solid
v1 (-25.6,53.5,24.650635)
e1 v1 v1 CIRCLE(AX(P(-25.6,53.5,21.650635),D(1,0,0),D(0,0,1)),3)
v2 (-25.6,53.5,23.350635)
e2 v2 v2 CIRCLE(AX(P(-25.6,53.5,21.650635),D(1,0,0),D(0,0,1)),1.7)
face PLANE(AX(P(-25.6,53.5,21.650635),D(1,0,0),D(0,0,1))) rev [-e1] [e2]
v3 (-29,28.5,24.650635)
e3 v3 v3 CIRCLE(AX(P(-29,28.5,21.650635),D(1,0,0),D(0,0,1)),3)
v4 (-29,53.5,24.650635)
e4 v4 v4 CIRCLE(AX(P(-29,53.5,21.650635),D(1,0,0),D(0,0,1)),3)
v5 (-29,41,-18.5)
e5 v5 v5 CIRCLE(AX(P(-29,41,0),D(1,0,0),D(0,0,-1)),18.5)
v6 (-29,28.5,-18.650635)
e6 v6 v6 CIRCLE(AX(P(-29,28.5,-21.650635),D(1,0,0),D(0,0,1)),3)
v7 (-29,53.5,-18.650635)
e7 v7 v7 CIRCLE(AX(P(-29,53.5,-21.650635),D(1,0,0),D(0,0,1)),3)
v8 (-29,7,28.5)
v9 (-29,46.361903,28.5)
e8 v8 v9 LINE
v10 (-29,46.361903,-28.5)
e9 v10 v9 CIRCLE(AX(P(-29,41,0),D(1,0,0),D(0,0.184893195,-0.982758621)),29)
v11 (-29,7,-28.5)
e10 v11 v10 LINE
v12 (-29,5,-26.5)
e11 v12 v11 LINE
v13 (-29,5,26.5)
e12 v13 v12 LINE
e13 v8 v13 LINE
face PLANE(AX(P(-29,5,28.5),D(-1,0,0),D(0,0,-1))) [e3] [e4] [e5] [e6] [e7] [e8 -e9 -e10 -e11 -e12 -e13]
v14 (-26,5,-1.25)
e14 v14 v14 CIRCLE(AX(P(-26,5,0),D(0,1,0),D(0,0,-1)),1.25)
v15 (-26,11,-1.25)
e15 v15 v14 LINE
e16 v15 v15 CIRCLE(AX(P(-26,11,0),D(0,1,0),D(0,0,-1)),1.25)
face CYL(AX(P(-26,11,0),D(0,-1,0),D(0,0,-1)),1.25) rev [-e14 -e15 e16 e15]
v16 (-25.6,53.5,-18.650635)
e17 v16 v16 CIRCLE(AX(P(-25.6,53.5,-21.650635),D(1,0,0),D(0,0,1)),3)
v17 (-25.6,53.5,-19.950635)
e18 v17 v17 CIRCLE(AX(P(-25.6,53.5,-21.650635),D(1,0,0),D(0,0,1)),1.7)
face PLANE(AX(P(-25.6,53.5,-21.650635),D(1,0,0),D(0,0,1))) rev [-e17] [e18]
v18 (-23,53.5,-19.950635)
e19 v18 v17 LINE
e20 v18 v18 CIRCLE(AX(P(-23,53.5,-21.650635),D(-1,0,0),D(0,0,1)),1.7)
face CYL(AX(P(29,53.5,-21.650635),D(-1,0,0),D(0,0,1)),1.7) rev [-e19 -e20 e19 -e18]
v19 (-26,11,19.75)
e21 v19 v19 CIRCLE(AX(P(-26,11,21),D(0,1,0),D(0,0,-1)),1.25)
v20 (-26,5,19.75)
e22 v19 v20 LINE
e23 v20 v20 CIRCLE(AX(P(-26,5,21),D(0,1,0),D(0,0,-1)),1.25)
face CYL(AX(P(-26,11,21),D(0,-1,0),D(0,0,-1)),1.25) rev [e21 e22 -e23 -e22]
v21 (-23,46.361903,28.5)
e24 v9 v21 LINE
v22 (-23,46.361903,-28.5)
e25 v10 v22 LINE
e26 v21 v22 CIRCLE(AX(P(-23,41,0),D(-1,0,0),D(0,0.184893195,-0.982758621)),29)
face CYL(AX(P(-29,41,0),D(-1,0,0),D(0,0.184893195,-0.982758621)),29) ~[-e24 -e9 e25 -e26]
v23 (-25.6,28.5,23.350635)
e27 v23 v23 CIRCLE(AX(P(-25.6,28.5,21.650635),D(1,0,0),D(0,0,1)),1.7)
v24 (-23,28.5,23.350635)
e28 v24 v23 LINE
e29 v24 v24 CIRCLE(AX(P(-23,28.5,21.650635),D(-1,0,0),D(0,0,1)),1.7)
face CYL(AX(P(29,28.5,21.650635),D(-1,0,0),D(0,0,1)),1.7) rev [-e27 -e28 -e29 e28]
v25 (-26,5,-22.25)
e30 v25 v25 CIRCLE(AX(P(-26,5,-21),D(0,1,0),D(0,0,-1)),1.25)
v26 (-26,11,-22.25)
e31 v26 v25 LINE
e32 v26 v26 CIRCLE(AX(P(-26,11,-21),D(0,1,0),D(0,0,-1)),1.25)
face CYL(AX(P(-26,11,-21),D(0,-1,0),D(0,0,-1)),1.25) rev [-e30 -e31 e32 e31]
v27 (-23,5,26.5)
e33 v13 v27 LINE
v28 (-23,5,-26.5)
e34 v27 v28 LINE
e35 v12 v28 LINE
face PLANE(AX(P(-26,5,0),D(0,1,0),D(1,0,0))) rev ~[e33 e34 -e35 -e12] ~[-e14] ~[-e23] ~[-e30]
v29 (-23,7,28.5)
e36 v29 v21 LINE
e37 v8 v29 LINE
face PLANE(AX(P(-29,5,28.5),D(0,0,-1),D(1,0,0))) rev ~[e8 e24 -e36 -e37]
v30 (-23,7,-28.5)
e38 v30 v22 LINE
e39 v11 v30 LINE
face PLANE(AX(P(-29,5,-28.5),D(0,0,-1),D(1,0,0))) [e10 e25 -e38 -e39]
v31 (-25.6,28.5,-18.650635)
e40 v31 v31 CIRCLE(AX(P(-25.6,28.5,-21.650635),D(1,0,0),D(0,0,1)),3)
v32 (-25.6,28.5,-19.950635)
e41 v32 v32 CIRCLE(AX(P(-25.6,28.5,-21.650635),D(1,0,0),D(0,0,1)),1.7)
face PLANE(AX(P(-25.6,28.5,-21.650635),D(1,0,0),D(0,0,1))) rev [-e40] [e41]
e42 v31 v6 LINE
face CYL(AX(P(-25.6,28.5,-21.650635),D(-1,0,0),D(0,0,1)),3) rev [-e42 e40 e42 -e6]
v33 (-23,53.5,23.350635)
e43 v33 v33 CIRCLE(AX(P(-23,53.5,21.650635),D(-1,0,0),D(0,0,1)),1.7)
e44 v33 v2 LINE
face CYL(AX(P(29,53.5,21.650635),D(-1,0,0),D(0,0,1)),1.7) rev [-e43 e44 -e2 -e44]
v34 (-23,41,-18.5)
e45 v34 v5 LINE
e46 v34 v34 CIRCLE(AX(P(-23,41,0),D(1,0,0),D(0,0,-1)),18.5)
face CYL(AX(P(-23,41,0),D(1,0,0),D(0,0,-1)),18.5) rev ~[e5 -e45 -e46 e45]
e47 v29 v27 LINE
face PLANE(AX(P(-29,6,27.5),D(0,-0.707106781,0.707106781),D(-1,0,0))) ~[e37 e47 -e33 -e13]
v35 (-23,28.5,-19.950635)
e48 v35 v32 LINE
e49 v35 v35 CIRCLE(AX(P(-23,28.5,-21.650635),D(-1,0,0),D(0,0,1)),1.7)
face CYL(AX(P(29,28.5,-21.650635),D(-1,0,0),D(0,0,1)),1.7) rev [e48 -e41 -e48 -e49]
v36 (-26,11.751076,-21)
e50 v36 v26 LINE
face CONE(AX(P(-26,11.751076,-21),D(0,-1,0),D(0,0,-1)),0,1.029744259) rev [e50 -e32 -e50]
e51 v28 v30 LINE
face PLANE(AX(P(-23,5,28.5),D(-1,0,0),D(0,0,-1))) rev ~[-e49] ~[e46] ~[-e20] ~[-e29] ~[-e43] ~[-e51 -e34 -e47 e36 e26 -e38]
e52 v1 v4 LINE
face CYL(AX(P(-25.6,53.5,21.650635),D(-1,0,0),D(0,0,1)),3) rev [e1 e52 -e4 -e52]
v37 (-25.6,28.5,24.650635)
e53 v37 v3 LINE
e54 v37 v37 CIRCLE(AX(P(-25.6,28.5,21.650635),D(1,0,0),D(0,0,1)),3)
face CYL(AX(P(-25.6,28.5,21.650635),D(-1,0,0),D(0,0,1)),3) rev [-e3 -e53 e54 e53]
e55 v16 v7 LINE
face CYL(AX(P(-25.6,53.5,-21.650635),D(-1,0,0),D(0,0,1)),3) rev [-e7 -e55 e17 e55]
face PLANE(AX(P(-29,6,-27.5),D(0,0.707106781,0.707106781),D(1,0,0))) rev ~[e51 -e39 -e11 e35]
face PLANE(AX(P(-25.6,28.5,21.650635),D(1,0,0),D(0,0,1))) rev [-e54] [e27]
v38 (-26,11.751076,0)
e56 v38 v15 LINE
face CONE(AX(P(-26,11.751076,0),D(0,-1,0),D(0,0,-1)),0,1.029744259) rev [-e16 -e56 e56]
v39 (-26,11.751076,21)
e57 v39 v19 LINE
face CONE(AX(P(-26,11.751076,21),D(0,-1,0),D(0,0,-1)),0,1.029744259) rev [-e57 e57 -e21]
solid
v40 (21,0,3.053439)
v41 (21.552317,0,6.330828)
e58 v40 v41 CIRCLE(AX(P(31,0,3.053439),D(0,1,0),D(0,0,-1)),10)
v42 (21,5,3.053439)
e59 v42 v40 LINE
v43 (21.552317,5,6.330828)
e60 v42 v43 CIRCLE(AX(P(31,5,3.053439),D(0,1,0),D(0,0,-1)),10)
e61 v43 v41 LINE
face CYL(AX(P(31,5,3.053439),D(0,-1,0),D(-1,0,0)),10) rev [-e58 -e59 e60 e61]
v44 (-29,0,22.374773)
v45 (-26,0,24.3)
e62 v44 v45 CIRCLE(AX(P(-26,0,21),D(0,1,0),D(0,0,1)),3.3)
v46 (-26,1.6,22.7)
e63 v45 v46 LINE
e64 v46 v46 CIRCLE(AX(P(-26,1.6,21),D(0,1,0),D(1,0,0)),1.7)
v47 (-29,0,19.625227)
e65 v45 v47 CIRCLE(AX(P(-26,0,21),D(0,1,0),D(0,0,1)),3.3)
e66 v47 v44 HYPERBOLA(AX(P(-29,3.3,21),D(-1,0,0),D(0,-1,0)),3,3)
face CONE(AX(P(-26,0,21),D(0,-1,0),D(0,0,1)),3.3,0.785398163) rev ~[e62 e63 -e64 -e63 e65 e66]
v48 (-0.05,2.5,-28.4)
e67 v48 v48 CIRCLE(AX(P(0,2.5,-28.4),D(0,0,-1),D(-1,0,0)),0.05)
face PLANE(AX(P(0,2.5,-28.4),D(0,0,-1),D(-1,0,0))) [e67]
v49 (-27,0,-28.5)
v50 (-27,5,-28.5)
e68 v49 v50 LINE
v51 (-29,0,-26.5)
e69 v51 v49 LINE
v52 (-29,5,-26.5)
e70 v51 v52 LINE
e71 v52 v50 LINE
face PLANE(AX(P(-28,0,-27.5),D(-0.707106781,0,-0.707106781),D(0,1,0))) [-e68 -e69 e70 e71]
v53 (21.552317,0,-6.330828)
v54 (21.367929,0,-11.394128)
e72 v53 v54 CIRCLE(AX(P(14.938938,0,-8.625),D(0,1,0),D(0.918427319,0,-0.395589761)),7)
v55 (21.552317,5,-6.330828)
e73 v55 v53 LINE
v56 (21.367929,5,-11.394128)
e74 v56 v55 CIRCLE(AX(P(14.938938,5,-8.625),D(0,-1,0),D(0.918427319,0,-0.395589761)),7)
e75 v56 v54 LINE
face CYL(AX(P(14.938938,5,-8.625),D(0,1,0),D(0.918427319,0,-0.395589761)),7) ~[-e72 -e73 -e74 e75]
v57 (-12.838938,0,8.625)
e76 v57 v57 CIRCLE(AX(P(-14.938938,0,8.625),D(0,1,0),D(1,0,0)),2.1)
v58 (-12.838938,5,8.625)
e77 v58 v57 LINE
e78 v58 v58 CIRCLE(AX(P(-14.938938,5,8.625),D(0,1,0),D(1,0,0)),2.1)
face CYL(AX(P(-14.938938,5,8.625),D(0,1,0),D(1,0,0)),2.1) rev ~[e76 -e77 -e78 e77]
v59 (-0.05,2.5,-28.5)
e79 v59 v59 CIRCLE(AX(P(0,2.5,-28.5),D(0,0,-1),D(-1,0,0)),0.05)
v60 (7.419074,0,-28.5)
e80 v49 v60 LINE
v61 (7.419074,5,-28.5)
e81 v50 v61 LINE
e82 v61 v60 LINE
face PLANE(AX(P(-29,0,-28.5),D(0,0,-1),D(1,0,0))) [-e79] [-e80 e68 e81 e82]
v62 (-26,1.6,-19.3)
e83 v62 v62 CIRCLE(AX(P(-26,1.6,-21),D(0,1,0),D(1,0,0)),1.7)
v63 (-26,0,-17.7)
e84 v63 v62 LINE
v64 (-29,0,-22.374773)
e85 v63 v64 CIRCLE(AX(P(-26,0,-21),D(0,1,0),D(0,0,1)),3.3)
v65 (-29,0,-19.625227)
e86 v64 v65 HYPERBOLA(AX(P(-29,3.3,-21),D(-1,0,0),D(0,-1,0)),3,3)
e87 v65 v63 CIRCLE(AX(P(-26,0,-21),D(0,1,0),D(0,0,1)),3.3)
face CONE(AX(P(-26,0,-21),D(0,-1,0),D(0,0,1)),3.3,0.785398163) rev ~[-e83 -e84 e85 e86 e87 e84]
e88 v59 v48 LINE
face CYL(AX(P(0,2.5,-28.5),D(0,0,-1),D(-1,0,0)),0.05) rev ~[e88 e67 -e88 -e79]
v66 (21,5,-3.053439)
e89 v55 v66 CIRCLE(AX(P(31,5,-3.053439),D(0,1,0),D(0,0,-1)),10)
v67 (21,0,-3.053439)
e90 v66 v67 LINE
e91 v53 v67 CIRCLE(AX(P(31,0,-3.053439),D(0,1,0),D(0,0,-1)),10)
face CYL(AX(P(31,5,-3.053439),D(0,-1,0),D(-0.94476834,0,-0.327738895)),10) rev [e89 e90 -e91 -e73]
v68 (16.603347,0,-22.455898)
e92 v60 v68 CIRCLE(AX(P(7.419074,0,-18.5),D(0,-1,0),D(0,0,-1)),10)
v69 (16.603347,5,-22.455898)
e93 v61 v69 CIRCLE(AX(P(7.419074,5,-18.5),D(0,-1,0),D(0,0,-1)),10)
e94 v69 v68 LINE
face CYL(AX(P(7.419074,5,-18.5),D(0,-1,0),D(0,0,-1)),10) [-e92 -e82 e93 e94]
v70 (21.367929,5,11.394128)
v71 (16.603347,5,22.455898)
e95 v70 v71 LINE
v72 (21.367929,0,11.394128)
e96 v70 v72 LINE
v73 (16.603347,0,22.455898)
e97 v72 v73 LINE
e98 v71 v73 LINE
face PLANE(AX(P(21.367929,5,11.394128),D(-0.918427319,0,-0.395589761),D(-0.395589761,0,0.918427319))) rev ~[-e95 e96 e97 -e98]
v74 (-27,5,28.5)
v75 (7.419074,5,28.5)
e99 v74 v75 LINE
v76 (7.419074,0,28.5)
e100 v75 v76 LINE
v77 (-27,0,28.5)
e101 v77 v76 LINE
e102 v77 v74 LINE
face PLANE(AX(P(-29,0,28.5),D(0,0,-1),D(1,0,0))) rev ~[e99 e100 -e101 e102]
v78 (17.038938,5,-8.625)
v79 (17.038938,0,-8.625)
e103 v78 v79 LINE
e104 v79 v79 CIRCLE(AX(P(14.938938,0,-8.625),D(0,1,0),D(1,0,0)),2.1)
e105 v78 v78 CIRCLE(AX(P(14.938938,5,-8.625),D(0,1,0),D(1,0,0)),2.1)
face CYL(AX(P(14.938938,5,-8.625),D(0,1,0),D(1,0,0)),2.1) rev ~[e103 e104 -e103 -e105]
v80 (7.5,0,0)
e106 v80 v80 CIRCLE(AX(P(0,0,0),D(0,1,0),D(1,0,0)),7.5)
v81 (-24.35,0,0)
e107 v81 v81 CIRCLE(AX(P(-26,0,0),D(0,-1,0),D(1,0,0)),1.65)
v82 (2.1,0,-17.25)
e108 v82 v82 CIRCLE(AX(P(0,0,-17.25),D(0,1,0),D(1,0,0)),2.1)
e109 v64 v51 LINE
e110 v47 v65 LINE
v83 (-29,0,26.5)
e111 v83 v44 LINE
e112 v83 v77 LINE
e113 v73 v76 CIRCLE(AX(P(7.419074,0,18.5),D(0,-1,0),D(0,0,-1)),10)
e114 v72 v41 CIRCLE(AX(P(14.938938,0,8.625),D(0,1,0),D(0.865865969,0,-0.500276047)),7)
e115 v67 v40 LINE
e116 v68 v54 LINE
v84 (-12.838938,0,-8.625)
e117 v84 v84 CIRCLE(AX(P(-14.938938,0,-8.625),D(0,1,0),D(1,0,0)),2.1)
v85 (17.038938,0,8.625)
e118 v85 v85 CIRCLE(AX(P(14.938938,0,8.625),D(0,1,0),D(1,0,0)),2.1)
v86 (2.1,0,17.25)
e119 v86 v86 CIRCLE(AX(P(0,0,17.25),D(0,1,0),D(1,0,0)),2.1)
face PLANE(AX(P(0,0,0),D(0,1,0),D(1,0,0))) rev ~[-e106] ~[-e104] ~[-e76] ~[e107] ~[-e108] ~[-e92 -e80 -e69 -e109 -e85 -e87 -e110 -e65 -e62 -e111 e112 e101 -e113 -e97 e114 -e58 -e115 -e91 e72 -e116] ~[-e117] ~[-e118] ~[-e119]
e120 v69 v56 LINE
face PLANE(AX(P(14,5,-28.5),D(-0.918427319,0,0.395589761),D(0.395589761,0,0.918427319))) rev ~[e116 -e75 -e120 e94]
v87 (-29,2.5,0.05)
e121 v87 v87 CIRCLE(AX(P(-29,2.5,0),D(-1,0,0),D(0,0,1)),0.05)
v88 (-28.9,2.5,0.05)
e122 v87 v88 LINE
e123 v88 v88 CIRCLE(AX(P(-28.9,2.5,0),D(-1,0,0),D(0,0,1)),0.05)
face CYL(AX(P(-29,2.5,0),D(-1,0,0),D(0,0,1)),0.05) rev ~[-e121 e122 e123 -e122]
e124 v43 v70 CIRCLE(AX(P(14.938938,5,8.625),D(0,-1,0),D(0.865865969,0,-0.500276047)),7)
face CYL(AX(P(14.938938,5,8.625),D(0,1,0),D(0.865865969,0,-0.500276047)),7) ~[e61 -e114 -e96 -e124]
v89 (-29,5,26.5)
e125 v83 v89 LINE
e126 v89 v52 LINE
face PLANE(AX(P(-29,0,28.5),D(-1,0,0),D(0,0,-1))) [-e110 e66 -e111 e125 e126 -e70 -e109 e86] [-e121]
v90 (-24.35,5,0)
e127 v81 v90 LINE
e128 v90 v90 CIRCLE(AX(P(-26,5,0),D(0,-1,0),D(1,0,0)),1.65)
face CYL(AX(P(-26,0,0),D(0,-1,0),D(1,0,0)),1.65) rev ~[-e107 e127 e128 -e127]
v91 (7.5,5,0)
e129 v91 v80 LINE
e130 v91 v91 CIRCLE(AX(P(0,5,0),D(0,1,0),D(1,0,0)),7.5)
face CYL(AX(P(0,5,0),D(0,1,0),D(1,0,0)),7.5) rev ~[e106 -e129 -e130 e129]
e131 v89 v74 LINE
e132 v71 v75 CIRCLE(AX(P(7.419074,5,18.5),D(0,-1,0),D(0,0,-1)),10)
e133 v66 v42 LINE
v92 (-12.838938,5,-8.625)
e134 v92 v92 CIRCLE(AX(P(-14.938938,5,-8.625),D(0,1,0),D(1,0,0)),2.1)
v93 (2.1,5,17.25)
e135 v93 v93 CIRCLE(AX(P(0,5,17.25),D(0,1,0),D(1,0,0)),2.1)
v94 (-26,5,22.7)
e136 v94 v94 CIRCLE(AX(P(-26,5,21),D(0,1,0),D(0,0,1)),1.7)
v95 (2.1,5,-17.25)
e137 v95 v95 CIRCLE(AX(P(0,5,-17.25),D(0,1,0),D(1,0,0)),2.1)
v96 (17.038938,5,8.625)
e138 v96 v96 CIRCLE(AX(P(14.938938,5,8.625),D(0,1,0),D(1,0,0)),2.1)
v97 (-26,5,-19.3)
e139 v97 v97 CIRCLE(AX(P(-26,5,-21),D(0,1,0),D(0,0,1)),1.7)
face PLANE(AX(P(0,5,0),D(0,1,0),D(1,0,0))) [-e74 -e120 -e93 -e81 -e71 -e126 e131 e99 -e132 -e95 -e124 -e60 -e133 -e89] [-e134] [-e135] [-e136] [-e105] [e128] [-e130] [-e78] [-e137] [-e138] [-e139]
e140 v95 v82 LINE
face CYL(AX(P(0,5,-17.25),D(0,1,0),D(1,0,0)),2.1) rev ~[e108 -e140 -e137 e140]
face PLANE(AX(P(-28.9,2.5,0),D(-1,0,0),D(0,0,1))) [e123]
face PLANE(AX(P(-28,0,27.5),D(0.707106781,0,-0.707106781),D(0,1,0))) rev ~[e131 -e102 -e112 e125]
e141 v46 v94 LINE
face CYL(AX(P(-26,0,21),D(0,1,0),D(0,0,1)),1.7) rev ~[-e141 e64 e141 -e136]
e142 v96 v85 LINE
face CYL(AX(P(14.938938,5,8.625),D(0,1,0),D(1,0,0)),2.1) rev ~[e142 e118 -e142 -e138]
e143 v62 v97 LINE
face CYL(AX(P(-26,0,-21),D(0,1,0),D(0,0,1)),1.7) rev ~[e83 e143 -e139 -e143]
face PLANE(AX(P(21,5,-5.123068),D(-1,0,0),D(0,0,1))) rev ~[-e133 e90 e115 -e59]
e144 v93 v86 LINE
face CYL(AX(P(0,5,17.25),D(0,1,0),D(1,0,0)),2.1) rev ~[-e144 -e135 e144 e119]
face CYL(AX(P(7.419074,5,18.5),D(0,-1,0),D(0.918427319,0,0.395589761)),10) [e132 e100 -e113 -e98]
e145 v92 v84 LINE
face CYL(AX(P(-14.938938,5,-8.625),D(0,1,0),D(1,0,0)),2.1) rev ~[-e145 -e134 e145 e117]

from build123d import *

# Parameters (mm, degrees)
SKETCH_1_W                    = 58
SKETCH_1_H                    = 57
EXTRUDE_1_DEPTH               = 5
SKETCH_5_R                    = 1
SKETCH_5_R_2                  = 2.1
CUT_EXTRUDE_2_DEPTH           = 6
HOLE_WIZARD_M3_1_D            = 3.4
HOLE_WIZARD_M3_1_DEPTH        = 5.5
HOLE_WIZARD_M3_1_CSINK_D      = 6.6
HOLE_WIZARD_M3_1_CSINK_ANGLE  = 90
HOLE_WIZARD_M3_1_TIP          = 1.021463052
CHAMFER_1_SIZE                = 2
SKETCH_9_W                    = 6
SKETCH_9_H                    = 57
EXTRUDE_3_DEPTH               = 68
SKETCH_10_R                   = 18.5
CUT_EXTRUDE_3_DEPTH           = 7
CHAMFER_2_SIZE                = 2
SKETCH_11_R                   = 7.5
CUT_EXTRUDE_4_DEPTH           = 6
SKETCH_12_R                   = 1
CUT_EXTRUDE_5_DEPTH           = 59
HOLE_WIZARD_M3_1_2_AT_2_COUNT = 2
HOLE_WIZARD_M3_1_2_AT_2_PITCH = 43.301270189
HOLE_WIZARD_M3_1_2_AT_3_COUNT = 2
HOLE_WIZARD_M3_1_2_AT_3_PITCH = 50
HOLE_WIZARD_M3_1_2_AT_4_COUNT = 2
HOLE_WIZARD_M3_1_2_AT_4_PITCH = 25
CUT_EXTRUDE_6_DEPTH           = 10
SKETCH_15_R                   = 0.05
CUT_EXTRUDE_7_DEPTH           = 0.1
SKETCH_16_R                   = 0.05
CUT_EXTRUDE_8_DEPTH           = 0.1
CUT_EXTRUDE_9_DEPTH           = 10
FILLET_1_R                    = 10
SKETCH_18_R                   = 1.65
CUT_EXTRUDE_10_DEPTH          = 5
HOLE_WIZARD_M3_1_3_AT_2_COUNT = 2
HOLE_WIZARD_M3_1_3_AT_2_PITCH = 21
HOLE_WIZARD_M3_1_3_AT_3_COUNT = 2
HOLE_WIZARD_M3_1_3_AT_3_PITCH = 42


with BuildPart() as part:
    # 草图1 → 凸台-拉伸1 (new body)
    with BuildSketch(Plane(origin=(0, 0, 0), x_dir=(1, 0, 0), z_dir=(0, 1, 0))):
        Rectangle(SKETCH_1_W, SKETCH_1_H)
    extrude(amount=EXTRUDE_1_DEPTH)

    # 草图5 → 切除-拉伸2 (cut, through all)
    with BuildSketch(Plane(origin=(0, 5, 0), x_dir=(1, 0, 0), z_dir=(0, 1, 0))):
        with Locations((-26, 21)):
            Circle(SKETCH_5_R)
        with Locations((-26, -21)):
            Circle(SKETCH_5_R)
        with Locations((0, 17.25)):
            Circle(SKETCH_5_R_2)
        with Locations((14.938938215, 8.625)):
            Circle(SKETCH_5_R_2)
        with Locations((14.938938215, -8.625)):
            Circle(SKETCH_5_R_2)
        with Locations((0, -17.25)):
            Circle(SKETCH_5_R_2)
        with Locations((-14.938938215, -8.625)):
            Circle(SKETCH_5_R_2)
        with Locations((-14.938938215, 8.625)):
            Circle(SKETCH_5_R_2)
    extrude(amount=-CUT_EXTRUDE_2_DEPTH, mode=Mode.SUBTRACT)

    # Hole Wizard M3 _1
    with Locations(Plane(origin=(-26, 0, 21), x_dir=(0, 0, -1), z_dir=(0, -1, 0))):
        with Locations((0, 0), (42, 0)):
            CounterSinkHole(HOLE_WIZARD_M3_1_D / 2, HOLE_WIZARD_M3_1_CSINK_D / 2, depth=HOLE_WIZARD_M3_1_DEPTH, counter_sink_angle=HOLE_WIZARD_M3_1_CSINK_ANGLE)
            with Locations((0, 0, -(HOLE_WIZARD_M3_1_DEPTH + HOLE_WIZARD_M3_1_TIP / 2))):  # 118° drill point
                Cone(0, HOLE_WIZARD_M3_1_D / 2, HOLE_WIZARD_M3_1_TIP, mode=Mode.SUBTRACT)

    # 倒角1
    chamfer_1_edges = [part.edges().sort_by_distance(p)[0] for p in [
        (29, 2.5, 28.5),
        (-29, 2.5, 28.5),
        (-29, 2.5, -28.5),
        (29, 2.5, -28.5),
    ]]
    chamfer(chamfer_1_edges, length=CHAMFER_1_SIZE)

    # 草图11 → 切除-拉伸4 (cut, through all)
    with BuildSketch(Plane(origin=(0, 5, 0), x_dir=(1, 0, 0), z_dir=(0, 1, 0))):
        Circle(SKETCH_11_R)
    extrude(amount=-CUT_EXTRUDE_4_DEPTH, mode=Mode.SUBTRACT)

    # 草图15 → 切除-拉伸7 (cut)
    with BuildSketch(Plane(origin=(0, 0, -28.5), x_dir=(-1, 0, 0), z_dir=(0, 0, -1))):
        with Locations((0, 2.5)):
            Circle(SKETCH_15_R)
    extrude(amount=-CUT_EXTRUDE_7_DEPTH, mode=Mode.SUBTRACT)

    # 草图16 → 切除-拉伸8 (cut)
    with BuildSketch(Plane.ZY.offset(29)):
        with Locations((0, 2.5)):
            Circle(SKETCH_16_R)
    extrude(amount=-CUT_EXTRUDE_8_DEPTH, mode=Mode.SUBTRACT)

    # 草图17 → 切除-拉伸9 (cut)
    with BuildSketch(Plane(origin=(0, 5, 0), x_dir=(1, 0, 0), z_dir=(0, 1, 0))):
        with BuildLine():
            Line((14, 28.5), (21.36792945, 11.39412833))
            ThreePointArc((21.36792945, 11.39412833), (21.926921226, 8.215007993), (21, 5.12306767))
            Line((21, 5.12306767), (21, -5.12306767))
            ThreePointArc((21, -5.12306767), (21.926921226, -8.215007993), (21.36792945, -11.39412833))
            Line((21.36792945, -11.39412833), (14, -28.5))
            Line((14, -28.5), (27, -28.5))
            Line((27, -28.5), (29, -26.5))
            Line((29, -26.5), (29, 26.5))
            Line((29, 26.5), (27, 28.5))
            Line((27, 28.5), (14, 28.5))
        make_face()
    extrude(amount=-CUT_EXTRUDE_9_DEPTH, mode=Mode.SUBTRACT)

    # 圆角1
    fillet_1_edges = [part.edges().sort_by_distance(p)[0] for p in [
        (14, 2.5, 28.5),
        (21, 2.5, 5.12306767),
        (21, 2.5, -5.12306767),
        (14, 2.5, -28.5),
    ]]
    fillet(fillet_1_edges, radius=FILLET_1_R)

    # 草图18 → 切除-拉伸10 (cut)
    with BuildSketch(Plane.XZ):
        with Locations((-26, 0)):
            Circle(SKETCH_18_R)
    extrude(amount=-CUT_EXTRUDE_10_DEPTH, mode=Mode.SUBTRACT)


with BuildPart() as body_2:
    # 草图9 → 凸台-拉伸3 (new body)
    with BuildSketch(Plane(origin=(0, 5, 0), x_dir=(1, 0, 0), z_dir=(0, 1, 0))):
        with Locations((-26, 0)):
            Rectangle(SKETCH_9_W, SKETCH_9_H)
    extrude(amount=EXTRUDE_3_DEPTH)

    # 草图10 → 切除-拉伸3 (cut, through all)
    with BuildSketch(Plane(origin=(-23, 0, 0), x_dir=(0, 0, -1), z_dir=(1, 0, 0))):
        with Locations((0, 41)):
            Circle(SKETCH_10_R)
    extrude(amount=-CUT_EXTRUDE_3_DEPTH, mode=Mode.SUBTRACT)

    # 倒角2
    chamfer_2_edges = [body_2.edges().sort_by_distance(p)[0] for p in [
        (-26, 5, -28.5),
        (-26, 5, 28.5),
    ]]
    chamfer(chamfer_2_edges, length=CHAMFER_2_SIZE)

    # 草图12 → 切除-拉伸5 (cut, through all)
    with BuildSketch(Plane.ZY.offset(29)):
        with Locations((21.650635095, 53.5)):
            Circle(SKETCH_12_R)
        with Locations((21.650635095, 28.5)):
            Circle(SKETCH_12_R)
        with Locations((-21.650635095, 28.5)):
            Circle(SKETCH_12_R)
        with Locations((-21.650635095, 53.5)):
            Circle(SKETCH_12_R)
    extrude(amount=-CUT_EXTRUDE_5_DEPTH, mode=Mode.SUBTRACT)

    # 草图13 → Hole Wizard M3 _1 2 (revolve, cut)
    with BuildSketch(Plane(origin=(-29, 53.5, -21.650635095), x_dir=(0, 0, 1), z_dir=(0, 1, 0))):
        Polygon((0, 0), (0, 58), (1.7, 58), (1.7, 3.4), (3, 3.4), (3, 0), align=None)
    hole_wizard_m3_1_2 = revolve(axis=Axis((-35.35, 53.5, -21.650635095), (1, 0, 0)), mode=Mode.SUBTRACT)

    # Hole Wizard M3 _1 2 at 2: Hole Wizard M3 _1 2 ×2
    with Locations(*[(0, 0, i * HOLE_WIZARD_M3_1_2_AT_2_PITCH) for i in range(1, HOLE_WIZARD_M3_1_2_AT_2_COUNT)]):
        add(hole_wizard_m3_1_2, mode=Mode.SUBTRACT)

    # Hole Wizard M3 _1 2 at 3: Hole Wizard M3 _1 2 ×2
    with Locations(*[Vector(0, -0.5, 0.866025404) * (i * HOLE_WIZARD_M3_1_2_AT_3_PITCH) for i in range(1, HOLE_WIZARD_M3_1_2_AT_3_COUNT)]):
        add(hole_wizard_m3_1_2, mode=Mode.SUBTRACT)

    # Hole Wizard M3 _1 2 at 4: Hole Wizard M3 _1 2 ×2
    with Locations(*[(0, -i * HOLE_WIZARD_M3_1_2_AT_4_PITCH, 0) for i in range(1, HOLE_WIZARD_M3_1_2_AT_4_COUNT)]):
        add(hole_wizard_m3_1_2, mode=Mode.SUBTRACT)

    # 草图14 → 切除-拉伸6 (cut)
    with BuildSketch(Plane.ZY.offset(29)):
        with BuildLine():
            Line((28.5, 46.361902647), (28.5, 73))
            Line((28.5, 73), (-28.5, 73))
            Line((-28.5, 73), (-28.5, 46.361902647))
            ThreePointArc((-28.5, 46.361902647), (0, 70), (28.5, 46.361902647))
        make_face()
    extrude(amount=-CUT_EXTRUDE_6_DEPTH, mode=Mode.SUBTRACT)

    # 草图21 → Hole Wizard M3 _1 3 (revolve, cut)
    with BuildSketch(Plane(origin=(-26, 5, -21), x_dir=(0, 0, -1), z_dir=(1, 0, 0))):
        Polygon((0, 0), (0, 6.751075774), (1.25, 6), (1.25, 0), align=None)
    hole_wizard_m3_1_3 = revolve(axis=Axis((-26, -1.35, -21), (0, 1, 0)), mode=Mode.SUBTRACT)

    # Hole Wizard M3 _1 3 at 2: Hole Wizard M3 _1 3 ×2
    with Locations(*[(0, 0, i * HOLE_WIZARD_M3_1_3_AT_2_PITCH) for i in range(1, HOLE_WIZARD_M3_1_3_AT_2_COUNT)]):
        add(hole_wizard_m3_1_3, mode=Mode.SUBTRACT)

    # Hole Wizard M3 _1 3 at 3: Hole Wizard M3 _1 3 ×2
    with Locations(*[(0, 0, i * HOLE_WIZARD_M3_1_3_AT_3_PITCH) for i in range(1, HOLE_WIZARD_M3_1_3_AT_3_COUNT)]):
        add(hole_wizard_m3_1_3, mode=Mode.SUBTRACT)


solid = Compound([part.part, body_2.part])
